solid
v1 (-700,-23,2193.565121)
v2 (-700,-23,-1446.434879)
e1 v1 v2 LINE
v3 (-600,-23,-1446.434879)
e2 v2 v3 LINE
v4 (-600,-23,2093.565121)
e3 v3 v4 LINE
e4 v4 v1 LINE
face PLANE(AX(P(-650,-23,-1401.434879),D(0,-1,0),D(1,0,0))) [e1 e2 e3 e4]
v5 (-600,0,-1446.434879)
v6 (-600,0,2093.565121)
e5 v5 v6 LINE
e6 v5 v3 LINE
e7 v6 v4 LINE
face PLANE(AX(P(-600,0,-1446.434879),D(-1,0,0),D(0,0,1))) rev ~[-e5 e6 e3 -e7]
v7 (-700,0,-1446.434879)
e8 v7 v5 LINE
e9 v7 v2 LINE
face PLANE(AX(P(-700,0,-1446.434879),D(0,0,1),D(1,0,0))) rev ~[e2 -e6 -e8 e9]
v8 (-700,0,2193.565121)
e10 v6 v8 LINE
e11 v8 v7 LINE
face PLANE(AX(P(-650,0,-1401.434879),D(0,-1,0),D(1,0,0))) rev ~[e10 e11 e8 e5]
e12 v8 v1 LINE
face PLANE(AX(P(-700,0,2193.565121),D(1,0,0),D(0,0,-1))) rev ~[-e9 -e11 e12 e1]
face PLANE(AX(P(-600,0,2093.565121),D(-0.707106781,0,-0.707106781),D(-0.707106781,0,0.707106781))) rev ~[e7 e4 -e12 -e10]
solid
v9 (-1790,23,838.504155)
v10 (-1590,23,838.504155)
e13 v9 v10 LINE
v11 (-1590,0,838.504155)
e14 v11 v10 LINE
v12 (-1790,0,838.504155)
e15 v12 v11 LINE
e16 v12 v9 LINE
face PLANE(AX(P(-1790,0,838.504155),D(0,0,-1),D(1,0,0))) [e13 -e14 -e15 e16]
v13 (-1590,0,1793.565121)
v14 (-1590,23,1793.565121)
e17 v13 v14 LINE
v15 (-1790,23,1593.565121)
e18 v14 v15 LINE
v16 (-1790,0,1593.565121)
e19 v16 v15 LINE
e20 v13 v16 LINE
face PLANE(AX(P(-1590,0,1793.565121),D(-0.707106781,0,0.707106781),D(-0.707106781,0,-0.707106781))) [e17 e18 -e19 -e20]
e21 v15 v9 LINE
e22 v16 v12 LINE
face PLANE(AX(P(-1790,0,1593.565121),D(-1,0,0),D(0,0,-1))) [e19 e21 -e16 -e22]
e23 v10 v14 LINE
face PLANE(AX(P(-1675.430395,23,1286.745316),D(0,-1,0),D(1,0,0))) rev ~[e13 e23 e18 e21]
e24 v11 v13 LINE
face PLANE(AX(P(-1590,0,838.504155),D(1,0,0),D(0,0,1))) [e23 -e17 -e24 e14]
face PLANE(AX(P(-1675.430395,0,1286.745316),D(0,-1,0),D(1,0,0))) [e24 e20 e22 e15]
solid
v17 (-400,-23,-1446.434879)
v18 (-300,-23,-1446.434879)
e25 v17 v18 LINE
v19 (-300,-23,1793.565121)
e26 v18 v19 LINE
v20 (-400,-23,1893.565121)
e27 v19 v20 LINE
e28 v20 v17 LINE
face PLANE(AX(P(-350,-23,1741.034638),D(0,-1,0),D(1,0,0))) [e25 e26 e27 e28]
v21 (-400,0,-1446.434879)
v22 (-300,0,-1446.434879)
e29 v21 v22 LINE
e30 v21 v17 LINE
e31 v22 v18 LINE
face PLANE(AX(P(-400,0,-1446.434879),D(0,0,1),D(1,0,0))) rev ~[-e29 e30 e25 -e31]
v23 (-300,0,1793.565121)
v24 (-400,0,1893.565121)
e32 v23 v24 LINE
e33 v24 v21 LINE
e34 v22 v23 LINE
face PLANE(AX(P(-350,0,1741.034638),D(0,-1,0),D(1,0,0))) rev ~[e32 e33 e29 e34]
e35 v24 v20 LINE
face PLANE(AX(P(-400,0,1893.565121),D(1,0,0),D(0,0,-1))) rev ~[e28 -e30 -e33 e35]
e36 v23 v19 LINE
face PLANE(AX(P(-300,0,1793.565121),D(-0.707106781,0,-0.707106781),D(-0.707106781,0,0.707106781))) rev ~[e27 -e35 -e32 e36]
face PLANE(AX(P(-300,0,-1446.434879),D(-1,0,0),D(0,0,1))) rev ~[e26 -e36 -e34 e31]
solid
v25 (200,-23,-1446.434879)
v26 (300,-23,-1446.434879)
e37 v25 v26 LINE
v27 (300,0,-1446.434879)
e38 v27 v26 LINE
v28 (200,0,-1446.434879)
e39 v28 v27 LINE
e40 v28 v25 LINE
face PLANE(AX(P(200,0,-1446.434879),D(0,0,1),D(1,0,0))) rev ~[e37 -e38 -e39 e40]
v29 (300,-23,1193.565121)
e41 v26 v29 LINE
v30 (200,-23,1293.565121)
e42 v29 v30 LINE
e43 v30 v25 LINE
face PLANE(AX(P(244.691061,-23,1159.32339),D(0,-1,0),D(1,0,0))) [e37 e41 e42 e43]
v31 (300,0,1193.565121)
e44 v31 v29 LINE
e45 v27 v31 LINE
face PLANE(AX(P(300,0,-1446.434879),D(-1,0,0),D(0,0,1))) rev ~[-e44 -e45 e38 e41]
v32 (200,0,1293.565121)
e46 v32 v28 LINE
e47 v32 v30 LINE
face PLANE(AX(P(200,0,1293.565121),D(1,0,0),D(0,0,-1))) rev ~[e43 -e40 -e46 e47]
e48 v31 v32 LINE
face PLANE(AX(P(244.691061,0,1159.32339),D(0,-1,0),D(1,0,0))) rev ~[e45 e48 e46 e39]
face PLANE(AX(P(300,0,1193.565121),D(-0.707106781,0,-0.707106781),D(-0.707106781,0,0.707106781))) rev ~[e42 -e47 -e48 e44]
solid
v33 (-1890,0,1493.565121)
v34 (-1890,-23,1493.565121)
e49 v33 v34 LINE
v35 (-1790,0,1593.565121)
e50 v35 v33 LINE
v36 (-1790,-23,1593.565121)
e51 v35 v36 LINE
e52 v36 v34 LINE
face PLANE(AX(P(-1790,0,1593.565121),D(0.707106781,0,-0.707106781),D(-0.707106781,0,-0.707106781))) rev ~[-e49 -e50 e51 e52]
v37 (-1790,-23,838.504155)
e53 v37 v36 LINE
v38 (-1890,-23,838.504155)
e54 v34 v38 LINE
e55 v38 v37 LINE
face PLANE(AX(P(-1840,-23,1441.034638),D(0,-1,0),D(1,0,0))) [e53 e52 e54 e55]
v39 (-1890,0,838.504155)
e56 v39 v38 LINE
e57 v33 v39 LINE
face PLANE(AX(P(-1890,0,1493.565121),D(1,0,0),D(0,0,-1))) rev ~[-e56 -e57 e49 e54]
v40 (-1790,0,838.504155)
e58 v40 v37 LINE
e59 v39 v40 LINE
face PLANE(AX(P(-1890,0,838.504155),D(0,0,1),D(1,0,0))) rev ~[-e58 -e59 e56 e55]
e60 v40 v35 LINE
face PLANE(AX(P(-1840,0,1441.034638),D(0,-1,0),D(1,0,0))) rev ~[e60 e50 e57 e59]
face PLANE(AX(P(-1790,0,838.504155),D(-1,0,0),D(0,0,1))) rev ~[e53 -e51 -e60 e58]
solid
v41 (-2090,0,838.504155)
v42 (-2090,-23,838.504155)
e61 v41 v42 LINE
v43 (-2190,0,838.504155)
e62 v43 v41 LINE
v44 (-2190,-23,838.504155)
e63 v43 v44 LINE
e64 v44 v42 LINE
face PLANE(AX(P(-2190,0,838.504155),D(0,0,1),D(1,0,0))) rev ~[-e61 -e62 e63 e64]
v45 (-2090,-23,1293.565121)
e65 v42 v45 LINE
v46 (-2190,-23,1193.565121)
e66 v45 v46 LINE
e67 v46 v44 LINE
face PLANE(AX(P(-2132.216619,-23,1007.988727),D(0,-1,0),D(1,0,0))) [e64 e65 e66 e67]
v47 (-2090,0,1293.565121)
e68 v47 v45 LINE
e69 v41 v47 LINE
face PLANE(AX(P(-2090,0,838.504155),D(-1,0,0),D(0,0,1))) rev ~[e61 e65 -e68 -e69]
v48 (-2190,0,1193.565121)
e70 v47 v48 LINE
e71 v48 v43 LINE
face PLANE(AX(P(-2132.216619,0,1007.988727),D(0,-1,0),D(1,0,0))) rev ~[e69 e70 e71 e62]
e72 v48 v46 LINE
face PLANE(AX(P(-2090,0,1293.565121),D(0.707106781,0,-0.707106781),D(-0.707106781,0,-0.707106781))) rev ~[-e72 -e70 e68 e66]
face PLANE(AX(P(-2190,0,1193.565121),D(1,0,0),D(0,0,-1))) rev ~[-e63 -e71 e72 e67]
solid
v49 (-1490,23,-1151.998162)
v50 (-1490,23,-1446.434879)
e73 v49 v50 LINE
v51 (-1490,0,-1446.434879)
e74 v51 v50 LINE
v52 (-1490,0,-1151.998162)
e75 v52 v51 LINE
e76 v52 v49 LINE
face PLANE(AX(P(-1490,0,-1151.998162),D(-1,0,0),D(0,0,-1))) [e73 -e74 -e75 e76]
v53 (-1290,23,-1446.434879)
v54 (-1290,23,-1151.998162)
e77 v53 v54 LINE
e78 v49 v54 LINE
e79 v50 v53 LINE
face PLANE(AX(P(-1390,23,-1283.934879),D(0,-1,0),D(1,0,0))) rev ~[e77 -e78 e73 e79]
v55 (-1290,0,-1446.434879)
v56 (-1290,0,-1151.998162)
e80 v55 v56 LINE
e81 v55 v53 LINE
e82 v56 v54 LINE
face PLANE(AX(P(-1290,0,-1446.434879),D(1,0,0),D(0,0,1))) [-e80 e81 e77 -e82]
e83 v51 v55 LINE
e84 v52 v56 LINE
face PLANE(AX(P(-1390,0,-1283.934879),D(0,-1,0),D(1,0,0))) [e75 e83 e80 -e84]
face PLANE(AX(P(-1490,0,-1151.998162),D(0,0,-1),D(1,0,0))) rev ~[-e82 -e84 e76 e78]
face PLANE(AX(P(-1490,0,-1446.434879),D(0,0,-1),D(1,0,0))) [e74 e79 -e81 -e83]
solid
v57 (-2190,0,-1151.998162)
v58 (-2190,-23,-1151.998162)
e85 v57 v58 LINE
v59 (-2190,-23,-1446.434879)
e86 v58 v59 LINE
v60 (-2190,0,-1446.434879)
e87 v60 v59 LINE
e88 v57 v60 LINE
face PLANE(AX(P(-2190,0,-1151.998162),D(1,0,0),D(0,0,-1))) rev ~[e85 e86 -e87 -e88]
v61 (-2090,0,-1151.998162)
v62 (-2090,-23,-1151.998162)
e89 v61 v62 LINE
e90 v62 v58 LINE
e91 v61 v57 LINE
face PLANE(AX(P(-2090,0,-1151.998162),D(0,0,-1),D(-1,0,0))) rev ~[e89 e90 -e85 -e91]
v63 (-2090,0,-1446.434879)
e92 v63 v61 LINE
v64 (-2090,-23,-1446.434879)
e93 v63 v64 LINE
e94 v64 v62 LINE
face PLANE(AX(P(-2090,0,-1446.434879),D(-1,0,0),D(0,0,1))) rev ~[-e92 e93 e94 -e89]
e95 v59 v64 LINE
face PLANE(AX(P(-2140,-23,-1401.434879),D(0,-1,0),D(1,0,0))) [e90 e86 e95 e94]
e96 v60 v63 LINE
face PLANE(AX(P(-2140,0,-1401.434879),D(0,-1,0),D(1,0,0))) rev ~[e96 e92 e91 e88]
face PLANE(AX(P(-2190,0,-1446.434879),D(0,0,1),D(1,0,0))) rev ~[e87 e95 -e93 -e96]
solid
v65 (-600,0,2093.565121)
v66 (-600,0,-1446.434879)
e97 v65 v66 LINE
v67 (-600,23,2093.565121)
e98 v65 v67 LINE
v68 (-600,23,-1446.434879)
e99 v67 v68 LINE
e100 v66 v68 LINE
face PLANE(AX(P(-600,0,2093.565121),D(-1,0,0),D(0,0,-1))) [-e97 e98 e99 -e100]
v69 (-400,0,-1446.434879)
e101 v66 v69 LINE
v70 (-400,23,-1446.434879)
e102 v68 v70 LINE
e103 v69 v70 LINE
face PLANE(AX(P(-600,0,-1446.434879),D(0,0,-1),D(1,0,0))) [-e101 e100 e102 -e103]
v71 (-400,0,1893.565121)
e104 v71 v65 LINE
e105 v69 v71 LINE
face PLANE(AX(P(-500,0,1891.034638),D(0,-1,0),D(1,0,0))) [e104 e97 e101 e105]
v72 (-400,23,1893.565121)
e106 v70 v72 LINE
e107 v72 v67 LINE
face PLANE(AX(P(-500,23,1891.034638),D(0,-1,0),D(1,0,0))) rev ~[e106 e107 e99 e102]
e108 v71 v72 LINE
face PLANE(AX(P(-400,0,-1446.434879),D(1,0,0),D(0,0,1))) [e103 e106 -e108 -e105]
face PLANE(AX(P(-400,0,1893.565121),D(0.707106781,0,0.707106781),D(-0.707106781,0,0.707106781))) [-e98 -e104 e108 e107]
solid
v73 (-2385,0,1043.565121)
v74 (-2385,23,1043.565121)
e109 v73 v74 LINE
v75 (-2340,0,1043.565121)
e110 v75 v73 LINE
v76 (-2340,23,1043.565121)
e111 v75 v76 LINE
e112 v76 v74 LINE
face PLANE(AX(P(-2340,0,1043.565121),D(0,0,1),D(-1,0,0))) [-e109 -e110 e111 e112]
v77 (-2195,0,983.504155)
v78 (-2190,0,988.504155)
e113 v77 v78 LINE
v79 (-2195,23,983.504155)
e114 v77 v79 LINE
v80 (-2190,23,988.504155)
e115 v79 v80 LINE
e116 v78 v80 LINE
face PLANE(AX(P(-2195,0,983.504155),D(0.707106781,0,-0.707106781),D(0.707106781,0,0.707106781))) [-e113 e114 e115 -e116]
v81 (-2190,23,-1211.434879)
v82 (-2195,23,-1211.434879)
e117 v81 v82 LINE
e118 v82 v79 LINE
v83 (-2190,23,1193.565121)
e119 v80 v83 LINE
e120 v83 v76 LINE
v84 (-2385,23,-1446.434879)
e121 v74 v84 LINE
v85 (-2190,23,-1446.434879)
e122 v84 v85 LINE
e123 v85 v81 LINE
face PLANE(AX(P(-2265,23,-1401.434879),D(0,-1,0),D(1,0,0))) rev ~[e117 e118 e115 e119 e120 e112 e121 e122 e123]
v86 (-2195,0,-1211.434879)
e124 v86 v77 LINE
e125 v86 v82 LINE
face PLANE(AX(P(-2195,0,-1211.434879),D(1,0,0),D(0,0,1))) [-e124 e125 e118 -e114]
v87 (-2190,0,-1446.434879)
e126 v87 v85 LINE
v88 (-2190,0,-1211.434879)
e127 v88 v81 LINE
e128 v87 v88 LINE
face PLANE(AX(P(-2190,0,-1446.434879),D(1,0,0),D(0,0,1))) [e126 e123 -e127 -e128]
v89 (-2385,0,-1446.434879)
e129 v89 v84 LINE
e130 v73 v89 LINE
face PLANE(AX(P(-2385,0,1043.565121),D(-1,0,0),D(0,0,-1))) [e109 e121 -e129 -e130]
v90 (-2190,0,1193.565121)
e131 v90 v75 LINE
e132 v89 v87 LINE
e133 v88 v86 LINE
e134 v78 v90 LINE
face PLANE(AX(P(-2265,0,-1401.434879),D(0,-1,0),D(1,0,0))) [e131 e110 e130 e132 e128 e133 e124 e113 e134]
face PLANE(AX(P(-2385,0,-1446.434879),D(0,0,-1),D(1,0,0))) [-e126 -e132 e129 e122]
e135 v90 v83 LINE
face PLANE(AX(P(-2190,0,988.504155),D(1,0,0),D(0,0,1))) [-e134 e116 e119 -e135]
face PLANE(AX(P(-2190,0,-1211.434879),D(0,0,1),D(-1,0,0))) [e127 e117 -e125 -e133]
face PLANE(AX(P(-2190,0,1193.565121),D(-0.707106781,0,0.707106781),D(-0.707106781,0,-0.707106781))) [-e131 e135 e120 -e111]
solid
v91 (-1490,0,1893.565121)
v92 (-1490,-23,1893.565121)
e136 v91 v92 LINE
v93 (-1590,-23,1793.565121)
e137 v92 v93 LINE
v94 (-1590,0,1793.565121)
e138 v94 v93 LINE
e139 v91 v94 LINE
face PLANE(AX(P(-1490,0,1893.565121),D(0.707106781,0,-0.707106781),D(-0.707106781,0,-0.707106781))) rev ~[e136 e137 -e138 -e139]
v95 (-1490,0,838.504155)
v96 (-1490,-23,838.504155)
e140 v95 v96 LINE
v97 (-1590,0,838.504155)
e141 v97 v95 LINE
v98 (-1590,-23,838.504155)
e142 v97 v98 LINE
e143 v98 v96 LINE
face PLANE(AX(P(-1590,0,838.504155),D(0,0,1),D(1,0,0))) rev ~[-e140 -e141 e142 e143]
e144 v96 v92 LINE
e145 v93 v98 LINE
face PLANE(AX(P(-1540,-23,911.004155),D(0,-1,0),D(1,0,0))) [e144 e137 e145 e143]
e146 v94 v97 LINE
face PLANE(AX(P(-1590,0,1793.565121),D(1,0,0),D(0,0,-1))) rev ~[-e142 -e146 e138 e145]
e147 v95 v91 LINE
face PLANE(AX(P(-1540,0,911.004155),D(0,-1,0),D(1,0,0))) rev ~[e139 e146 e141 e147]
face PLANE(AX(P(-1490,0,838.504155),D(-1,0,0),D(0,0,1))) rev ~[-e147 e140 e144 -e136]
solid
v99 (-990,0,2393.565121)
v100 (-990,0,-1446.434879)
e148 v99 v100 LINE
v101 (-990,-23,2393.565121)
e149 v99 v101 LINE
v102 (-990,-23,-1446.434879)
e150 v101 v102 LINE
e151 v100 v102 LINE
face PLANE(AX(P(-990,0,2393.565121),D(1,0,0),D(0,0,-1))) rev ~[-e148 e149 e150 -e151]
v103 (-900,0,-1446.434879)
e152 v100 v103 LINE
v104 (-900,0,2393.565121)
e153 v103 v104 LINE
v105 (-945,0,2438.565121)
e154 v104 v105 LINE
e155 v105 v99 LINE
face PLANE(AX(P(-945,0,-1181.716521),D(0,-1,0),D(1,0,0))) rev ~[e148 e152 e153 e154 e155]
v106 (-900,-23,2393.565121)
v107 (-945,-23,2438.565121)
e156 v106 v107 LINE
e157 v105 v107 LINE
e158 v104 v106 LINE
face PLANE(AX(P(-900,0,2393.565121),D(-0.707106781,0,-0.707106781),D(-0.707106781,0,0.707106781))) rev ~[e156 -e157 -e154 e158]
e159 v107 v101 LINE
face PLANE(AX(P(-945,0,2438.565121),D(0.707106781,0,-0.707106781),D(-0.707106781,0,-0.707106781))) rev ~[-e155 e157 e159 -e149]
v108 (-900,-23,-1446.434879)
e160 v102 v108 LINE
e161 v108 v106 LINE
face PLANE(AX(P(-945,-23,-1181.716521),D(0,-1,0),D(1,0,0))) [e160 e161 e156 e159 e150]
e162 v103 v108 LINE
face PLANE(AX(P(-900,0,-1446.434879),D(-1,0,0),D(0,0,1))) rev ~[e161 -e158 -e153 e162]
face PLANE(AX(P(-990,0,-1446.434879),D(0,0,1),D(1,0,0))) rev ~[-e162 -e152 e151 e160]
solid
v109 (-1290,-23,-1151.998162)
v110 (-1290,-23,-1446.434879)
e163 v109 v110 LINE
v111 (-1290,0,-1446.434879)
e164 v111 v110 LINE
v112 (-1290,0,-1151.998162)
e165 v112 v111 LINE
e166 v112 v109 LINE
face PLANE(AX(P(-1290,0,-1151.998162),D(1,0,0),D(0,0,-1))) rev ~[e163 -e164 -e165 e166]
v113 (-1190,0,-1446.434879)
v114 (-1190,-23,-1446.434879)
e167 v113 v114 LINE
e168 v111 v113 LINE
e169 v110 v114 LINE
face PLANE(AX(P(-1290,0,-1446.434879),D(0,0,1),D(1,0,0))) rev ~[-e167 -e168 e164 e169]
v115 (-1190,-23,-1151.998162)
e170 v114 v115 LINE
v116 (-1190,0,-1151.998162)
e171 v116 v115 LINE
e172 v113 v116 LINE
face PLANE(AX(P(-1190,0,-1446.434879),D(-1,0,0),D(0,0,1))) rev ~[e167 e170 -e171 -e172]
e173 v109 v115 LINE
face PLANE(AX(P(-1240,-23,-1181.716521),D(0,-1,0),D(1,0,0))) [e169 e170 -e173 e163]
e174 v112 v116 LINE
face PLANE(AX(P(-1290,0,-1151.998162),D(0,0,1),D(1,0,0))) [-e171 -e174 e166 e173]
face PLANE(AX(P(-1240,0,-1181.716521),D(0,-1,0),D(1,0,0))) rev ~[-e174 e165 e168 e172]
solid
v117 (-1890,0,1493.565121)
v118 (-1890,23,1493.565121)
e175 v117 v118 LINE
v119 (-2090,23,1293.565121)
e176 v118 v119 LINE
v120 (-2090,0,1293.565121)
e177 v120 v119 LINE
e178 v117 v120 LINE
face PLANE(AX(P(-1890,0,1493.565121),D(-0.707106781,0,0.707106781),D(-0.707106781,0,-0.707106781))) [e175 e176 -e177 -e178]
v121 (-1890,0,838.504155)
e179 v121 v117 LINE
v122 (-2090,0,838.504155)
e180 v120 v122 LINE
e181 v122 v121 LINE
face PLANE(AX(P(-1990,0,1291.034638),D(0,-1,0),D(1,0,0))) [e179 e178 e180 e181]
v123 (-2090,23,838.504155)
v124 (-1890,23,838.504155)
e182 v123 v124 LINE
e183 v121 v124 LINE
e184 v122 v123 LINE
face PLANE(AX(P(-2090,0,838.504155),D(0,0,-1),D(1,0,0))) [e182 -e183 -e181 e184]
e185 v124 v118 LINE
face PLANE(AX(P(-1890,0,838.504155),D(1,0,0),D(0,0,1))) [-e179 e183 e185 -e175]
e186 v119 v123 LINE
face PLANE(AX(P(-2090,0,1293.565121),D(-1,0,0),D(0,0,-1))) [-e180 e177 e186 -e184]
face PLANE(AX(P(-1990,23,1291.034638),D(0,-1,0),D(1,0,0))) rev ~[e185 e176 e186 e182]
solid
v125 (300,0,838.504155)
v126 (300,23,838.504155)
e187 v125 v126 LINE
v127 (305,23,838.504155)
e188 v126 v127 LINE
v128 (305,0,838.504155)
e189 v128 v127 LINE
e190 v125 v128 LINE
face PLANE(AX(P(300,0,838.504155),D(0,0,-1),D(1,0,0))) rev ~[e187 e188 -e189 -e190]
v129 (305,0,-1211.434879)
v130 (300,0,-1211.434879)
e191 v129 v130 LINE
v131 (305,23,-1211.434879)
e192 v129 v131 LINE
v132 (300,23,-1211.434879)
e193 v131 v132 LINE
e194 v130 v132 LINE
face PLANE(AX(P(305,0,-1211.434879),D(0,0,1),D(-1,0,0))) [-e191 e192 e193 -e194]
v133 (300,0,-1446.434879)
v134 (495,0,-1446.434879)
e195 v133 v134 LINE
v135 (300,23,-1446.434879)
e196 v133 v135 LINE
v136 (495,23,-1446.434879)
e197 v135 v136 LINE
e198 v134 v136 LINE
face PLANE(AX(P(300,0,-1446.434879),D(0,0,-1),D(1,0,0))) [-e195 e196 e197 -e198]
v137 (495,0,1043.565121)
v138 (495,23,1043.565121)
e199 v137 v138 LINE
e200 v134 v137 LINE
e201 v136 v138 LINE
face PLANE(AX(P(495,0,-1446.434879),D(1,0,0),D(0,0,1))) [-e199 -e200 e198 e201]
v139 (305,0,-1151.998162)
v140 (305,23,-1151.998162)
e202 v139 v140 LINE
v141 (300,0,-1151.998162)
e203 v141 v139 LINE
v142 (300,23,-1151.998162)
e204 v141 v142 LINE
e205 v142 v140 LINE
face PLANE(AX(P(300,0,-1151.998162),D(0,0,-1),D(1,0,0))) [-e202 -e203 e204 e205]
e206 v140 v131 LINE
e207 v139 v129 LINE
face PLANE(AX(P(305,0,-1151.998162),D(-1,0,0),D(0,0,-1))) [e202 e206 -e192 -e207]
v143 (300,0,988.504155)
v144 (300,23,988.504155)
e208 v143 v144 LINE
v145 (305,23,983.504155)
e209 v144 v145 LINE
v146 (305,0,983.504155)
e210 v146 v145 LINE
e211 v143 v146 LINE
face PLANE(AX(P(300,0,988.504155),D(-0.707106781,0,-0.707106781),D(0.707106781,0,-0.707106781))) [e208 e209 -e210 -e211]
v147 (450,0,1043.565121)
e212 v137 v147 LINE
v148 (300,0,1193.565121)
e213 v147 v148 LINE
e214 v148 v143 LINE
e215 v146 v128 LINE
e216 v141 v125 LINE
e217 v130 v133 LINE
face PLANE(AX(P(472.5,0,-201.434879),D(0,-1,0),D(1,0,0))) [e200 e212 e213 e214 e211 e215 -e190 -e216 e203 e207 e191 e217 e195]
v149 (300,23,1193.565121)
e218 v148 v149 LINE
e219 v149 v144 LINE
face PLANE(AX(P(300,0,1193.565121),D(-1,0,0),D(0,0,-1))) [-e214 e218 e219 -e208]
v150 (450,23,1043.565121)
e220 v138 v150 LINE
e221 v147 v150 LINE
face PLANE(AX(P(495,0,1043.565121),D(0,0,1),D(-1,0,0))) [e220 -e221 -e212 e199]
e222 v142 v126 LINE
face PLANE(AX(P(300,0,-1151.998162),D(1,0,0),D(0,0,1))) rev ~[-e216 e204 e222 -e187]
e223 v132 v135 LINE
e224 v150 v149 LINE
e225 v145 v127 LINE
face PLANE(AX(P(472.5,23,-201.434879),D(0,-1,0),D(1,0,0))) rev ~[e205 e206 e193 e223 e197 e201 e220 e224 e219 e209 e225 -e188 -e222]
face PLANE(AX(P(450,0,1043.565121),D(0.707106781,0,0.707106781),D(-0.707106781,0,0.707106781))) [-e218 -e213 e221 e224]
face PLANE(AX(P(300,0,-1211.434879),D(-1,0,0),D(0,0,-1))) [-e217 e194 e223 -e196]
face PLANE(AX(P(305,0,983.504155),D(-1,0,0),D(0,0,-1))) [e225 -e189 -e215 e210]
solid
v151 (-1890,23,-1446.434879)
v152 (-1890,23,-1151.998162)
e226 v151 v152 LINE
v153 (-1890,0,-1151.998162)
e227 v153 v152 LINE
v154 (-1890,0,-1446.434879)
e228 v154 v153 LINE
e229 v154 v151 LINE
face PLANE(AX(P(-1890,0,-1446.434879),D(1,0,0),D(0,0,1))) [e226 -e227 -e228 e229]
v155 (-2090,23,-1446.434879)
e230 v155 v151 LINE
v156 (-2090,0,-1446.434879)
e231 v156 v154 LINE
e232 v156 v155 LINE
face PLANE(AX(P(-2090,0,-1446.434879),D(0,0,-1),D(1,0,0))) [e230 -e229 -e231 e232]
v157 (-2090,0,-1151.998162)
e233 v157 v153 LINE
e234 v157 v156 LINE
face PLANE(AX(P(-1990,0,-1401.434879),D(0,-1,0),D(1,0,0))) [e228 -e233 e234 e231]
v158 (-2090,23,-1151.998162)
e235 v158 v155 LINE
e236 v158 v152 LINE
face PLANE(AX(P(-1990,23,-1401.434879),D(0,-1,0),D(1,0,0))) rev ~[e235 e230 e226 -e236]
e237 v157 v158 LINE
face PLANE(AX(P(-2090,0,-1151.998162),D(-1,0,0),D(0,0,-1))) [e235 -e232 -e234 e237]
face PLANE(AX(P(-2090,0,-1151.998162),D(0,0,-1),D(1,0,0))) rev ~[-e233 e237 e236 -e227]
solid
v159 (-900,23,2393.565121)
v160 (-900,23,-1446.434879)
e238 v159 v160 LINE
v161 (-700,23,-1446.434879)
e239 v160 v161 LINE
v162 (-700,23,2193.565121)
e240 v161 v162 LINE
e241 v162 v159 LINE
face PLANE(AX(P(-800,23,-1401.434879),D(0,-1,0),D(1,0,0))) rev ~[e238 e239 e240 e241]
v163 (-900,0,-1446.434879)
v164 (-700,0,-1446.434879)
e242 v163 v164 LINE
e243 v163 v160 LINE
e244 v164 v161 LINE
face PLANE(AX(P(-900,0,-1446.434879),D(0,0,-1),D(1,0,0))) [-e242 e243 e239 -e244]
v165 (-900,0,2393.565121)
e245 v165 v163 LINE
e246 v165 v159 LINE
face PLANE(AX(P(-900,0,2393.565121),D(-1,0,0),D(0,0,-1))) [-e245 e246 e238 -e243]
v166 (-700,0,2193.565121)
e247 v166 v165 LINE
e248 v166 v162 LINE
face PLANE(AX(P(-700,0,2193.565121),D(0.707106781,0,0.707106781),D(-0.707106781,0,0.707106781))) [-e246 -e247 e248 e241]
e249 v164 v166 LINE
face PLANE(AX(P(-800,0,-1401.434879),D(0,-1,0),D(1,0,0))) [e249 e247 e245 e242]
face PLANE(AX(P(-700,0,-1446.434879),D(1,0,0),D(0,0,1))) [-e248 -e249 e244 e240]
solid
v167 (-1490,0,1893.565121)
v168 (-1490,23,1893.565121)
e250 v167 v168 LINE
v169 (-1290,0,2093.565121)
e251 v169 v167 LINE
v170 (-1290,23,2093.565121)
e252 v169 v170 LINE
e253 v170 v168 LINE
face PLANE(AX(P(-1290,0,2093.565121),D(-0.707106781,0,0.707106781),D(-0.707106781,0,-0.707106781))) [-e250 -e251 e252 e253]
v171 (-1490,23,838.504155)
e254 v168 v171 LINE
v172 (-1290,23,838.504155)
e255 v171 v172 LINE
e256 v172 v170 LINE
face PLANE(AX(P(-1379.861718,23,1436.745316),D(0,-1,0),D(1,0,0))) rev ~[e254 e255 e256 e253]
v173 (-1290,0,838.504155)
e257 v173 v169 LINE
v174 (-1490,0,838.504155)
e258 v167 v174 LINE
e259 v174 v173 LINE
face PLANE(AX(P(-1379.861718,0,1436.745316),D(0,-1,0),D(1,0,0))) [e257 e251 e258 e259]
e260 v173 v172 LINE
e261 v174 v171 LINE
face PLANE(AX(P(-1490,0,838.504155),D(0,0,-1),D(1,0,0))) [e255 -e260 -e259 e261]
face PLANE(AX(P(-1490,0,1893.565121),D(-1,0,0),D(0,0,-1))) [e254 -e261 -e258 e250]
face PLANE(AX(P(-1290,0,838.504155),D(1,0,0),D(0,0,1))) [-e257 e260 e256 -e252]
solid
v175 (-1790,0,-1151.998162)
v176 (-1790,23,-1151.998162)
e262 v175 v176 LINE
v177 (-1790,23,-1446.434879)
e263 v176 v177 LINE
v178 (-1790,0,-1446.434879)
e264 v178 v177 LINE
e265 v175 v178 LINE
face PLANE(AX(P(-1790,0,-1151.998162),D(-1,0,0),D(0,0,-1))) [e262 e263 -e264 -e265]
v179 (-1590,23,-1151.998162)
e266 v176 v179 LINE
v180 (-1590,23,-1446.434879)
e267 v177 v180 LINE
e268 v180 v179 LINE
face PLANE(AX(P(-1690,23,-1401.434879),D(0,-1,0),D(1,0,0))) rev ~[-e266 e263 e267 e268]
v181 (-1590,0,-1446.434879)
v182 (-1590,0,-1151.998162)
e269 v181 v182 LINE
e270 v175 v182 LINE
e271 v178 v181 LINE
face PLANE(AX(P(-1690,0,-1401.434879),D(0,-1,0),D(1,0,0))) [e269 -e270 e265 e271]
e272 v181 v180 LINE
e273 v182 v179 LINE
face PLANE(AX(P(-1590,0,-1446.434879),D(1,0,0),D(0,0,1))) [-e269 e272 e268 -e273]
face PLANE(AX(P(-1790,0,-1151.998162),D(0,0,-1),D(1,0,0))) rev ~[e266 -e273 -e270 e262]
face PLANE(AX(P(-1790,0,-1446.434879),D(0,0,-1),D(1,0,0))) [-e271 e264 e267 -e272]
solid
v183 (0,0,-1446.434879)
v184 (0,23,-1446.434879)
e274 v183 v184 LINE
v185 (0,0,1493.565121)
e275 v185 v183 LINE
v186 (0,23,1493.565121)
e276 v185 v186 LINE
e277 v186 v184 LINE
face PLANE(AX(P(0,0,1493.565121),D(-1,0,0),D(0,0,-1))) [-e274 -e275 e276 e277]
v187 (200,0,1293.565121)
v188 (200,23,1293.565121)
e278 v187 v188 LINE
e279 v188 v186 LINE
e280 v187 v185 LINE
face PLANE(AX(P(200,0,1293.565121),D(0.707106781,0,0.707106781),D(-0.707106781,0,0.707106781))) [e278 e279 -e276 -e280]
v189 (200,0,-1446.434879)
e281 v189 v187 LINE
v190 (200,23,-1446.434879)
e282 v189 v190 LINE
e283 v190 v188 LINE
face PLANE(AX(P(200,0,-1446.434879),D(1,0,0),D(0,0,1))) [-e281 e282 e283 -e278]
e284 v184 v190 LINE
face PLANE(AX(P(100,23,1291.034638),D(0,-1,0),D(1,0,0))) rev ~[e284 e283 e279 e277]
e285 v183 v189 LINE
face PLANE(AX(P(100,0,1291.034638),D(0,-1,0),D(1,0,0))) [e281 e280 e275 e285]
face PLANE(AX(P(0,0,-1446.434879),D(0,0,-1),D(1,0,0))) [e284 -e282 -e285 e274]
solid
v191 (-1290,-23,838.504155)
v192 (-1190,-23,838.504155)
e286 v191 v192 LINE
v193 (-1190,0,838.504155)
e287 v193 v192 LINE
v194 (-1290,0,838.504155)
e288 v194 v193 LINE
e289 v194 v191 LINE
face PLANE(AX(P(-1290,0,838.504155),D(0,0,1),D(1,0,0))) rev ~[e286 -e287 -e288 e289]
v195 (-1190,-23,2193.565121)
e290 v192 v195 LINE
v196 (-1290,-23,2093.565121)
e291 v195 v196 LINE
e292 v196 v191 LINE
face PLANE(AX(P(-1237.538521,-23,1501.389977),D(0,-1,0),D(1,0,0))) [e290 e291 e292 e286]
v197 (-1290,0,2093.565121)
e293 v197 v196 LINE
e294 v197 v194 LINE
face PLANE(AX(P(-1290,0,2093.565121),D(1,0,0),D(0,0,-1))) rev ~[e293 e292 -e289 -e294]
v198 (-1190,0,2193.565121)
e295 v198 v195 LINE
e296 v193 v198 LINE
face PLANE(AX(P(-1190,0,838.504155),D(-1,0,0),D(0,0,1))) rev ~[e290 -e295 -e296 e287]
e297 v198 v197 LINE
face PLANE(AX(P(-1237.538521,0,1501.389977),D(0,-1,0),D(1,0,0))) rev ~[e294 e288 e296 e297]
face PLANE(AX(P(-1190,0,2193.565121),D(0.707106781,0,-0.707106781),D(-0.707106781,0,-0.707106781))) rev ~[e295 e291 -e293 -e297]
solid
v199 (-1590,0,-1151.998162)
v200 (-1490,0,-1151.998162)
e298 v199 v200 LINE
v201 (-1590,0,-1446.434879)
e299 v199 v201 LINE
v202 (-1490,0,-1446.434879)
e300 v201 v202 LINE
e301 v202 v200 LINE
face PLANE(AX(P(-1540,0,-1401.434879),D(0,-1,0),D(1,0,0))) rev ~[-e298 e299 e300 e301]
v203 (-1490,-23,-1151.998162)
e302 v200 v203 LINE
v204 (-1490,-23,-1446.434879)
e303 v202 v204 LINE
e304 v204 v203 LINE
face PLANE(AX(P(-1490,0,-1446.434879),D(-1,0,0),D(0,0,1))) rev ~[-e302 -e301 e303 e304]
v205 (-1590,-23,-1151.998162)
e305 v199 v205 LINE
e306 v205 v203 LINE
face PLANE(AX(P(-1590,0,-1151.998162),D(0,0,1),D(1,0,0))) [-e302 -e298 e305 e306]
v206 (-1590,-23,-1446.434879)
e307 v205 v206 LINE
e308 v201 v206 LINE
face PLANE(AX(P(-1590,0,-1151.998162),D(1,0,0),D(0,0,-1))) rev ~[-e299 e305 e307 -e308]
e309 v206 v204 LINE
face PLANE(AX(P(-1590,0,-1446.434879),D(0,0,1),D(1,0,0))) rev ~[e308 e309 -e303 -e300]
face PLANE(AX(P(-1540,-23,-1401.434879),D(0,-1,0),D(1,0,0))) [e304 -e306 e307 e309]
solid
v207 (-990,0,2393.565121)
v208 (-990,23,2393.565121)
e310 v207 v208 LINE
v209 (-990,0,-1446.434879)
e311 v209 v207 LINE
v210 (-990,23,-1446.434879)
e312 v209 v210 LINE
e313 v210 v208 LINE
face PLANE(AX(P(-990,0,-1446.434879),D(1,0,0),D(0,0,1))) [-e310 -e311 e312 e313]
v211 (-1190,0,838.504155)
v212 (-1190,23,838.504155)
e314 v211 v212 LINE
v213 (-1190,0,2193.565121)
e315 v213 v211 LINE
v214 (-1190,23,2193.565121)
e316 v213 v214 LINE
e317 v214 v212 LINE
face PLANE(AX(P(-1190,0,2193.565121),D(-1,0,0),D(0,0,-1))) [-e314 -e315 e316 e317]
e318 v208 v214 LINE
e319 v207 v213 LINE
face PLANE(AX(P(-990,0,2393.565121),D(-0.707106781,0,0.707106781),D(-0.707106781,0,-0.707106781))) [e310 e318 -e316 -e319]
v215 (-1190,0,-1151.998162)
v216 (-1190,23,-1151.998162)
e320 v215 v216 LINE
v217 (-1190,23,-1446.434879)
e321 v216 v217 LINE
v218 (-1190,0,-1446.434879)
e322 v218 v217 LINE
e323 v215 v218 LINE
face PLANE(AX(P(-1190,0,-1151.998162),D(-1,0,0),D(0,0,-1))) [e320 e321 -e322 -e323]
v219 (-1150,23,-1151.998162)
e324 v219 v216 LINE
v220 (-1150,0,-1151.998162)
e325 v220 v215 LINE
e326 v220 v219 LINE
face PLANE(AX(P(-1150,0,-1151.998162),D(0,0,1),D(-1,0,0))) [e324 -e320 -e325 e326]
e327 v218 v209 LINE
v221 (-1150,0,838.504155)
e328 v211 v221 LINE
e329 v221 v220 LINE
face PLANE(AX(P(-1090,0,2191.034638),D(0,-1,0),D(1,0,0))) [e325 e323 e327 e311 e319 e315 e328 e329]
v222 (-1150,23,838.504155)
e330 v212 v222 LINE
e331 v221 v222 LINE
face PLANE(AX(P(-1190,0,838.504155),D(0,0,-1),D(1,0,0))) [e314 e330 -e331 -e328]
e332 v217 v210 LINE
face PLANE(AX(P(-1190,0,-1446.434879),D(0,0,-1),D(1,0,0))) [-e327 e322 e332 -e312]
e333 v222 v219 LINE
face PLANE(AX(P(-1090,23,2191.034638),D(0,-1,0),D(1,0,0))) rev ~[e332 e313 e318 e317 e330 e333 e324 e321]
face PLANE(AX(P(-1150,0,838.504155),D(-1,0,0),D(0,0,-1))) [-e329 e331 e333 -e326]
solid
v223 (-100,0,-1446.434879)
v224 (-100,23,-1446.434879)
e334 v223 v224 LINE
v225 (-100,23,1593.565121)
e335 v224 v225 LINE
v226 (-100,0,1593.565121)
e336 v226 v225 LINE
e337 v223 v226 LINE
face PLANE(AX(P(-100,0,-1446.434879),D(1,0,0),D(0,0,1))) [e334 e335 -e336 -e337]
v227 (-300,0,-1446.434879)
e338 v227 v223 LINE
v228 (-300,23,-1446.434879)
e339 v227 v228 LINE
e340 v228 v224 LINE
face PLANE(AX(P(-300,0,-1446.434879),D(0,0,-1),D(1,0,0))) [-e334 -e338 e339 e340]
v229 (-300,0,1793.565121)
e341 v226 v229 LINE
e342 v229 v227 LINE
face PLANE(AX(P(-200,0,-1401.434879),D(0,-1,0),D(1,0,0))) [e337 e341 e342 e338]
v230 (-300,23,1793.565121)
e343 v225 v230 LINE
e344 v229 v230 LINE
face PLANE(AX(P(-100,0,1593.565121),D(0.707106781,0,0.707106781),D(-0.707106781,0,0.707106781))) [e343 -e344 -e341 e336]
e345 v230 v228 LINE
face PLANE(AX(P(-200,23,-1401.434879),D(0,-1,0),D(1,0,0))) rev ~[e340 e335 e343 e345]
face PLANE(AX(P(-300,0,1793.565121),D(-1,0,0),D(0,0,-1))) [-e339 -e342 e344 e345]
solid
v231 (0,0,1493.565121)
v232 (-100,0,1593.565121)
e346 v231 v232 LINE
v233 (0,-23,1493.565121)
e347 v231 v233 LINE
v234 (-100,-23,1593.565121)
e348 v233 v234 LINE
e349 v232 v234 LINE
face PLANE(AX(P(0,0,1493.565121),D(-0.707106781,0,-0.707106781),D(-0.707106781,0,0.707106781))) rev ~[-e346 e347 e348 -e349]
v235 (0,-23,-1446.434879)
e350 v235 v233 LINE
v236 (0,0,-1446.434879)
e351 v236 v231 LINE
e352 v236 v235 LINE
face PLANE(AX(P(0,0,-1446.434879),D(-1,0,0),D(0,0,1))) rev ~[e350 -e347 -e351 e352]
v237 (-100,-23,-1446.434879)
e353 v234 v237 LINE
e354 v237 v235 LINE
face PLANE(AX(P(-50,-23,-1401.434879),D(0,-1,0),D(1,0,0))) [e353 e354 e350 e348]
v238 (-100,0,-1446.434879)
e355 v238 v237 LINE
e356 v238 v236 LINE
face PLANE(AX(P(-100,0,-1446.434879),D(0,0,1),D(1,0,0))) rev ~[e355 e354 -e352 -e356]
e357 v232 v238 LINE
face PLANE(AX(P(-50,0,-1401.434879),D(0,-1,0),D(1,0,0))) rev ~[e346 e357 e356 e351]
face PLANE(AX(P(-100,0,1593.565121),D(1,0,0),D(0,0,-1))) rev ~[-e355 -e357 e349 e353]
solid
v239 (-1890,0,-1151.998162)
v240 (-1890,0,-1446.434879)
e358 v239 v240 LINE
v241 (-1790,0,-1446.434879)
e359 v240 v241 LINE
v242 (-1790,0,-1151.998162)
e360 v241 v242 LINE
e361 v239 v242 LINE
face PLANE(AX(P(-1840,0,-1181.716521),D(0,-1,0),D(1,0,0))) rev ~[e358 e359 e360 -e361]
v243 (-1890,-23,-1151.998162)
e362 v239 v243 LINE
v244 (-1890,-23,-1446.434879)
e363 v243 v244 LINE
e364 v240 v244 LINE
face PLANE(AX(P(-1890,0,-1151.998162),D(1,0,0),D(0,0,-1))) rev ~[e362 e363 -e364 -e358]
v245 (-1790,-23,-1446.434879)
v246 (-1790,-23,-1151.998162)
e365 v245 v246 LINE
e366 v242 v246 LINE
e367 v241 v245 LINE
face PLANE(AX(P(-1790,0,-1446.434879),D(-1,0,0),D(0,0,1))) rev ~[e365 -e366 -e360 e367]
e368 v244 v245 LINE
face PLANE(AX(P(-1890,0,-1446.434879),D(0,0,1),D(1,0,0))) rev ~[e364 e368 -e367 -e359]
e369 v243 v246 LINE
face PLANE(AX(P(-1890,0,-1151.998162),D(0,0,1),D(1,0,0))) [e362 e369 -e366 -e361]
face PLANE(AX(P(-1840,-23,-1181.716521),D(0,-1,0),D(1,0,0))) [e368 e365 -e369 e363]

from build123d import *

# Parameters (mm, degrees)
F0_W     = 5
F0_H     = 1990.5023168359
F0_W_2   = 150
F0_H_2   = 90
F1_DEPTH = 23
F0_W_3   = 200
F0_H_3   = 60.0609665441
F0_H_4   = 145
F0_H_5   = 59.43671662
F0_W_4   = 60
F0_W_5   = 40
F0_W_6   = 100
F2_DEPTH = 23
F0_W_7   = 90


with BuildPart() as f1:
    # F0 (on Front) → F1 (new body)
    with BuildSketch(Plane.XZ):
        Polygon((450, 1043.5651211104), (450, -1356.4348788896), (450, -1446.4348788896), (495, -1446.4348788896), (495, 1043.5651211104), align=None)
        Polygon((300, -1211.4348788896), (300, -1356.4348788896), (450, -1356.4348788896), (450, 1043.5651211104), (300, 1043.5651211104), (300, 988.5041545663), (305, 983.5041545663), (305, 838.5041545663), (305, -1151.9981622696), (305, -1211.4348788896), align=None)
        with Locations((302.5, -156.7470038516)):
            Rectangle(F0_W, F0_H)
        Polygon((450, 1043.5651211104), (300, 1193.5651211104), (300, 1043.5651211104), align=None)
        with Locations((375, -1401.4348788896)):
            Rectangle(F0_W_2, F0_H_2)
    extrude(amount=-F1_DEPTH)


with BuildPart() as f1b:
    # F0 (on Front) → F1, piece 2 (new body)
    with BuildSketch(Plane.XZ):
        Polygon((200, 1293.5651211104), (0, 1493.5651211104), (0, 1288.5041545663), (200, 1088.5041545663), align=None)
        Polygon((0, 1288.5041545663), (0, 1043.5651211104), (200, 1043.5651211104), (200, 1088.5041545663), align=None)
        with Locations((100, 1013.5346378384)):
            Rectangle(F0_W_3, F0_H_3)
        with Locations((100, 911.0041545663)):
            Rectangle(F0_W_3, F0_H_4)
        with Locations((100, -156.7470038516)):
            Rectangle(F0_W_3, F0_H)
        with Locations((100, -1181.7165205796)):
            Rectangle(F0_W_3, F0_H_5)
        with Locations((100, -1283.9348788896)):
            Rectangle(F0_W_3, F0_H_4)
        with Locations((100, -1401.4348788896)):
            Rectangle(F0_W_3, F0_H_2)
    extrude(amount=-F1_DEPTH)


with BuildPart() as f1c:
    # F0 (on Front) → F1, piece 3 (new body)
    with BuildSketch(Plane.XZ):
        with Locations((-200, -1401.4348788896)):
            Rectangle(F0_W_3, F0_H_2)
        with Locations((-200, -1283.9348788896)):
            Rectangle(F0_W_3, F0_H_4)
        with Locations((-200, -1181.7165205796)):
            Rectangle(F0_W_3, F0_H_5)
        with Locations((-200, -156.7470038516)):
            Rectangle(F0_W_3, F0_H)
        with Locations((-200, 911.0041545663)):
            Rectangle(F0_W_3, F0_H_4)
        with Locations((-200, 1013.5346378384)):
            Rectangle(F0_W_3, F0_H_3)
        Polygon((-300, 1588.5041545663), (-300, 1043.5651211104), (-100, 1043.5651211104), (-100, 1388.5041545663), align=None)
        Polygon((-100, 1593.5651211104), (-300, 1793.5651211104), (-300, 1588.5041545663), (-100, 1388.5041545663), align=None)
    extrude(amount=-F1_DEPTH)


with BuildPart() as f1d:
    # F0 (on Front) → F1, piece 4 (new body)
    with BuildSketch(Plane.XZ):
        Polygon((-400, 1893.5651211104), (-600, 2093.5651211104), (-600, 1888.5041545663), (-400, 1688.5041545663), align=None)
        Polygon((-600, 1888.5041545663), (-600, 1043.5651211104), (-400, 1043.5651211104), (-400, 1688.5041545663), align=None)
        with Locations((-500, 1013.5346378384)):
            Rectangle(F0_W_3, F0_H_3)
        with Locations((-500, 911.0041545663)):
            Rectangle(F0_W_3, F0_H_4)
        with Locations((-500, -156.7470038516)):
            Rectangle(F0_W_3, F0_H)
        with Locations((-500, -1181.7165205796)):
            Rectangle(F0_W_3, F0_H_5)
        with Locations((-500, -1283.9348788896)):
            Rectangle(F0_W_3, F0_H_4)
        with Locations((-500, -1401.4348788896)):
            Rectangle(F0_W_3, F0_H_2)
    extrude(amount=-F1_DEPTH)


with BuildPart() as f1e:
    # F0 (on Front) → F1, piece 5 (new body)
    with BuildSketch(Plane.XZ):
        with Locations((-800, -1401.4348788896)):
            Rectangle(F0_W_3, F0_H_2)
        with Locations((-800, -1283.9348788896)):
            Rectangle(F0_W_3, F0_H_4)
        with Locations((-800, -1181.7165205796)):
            Rectangle(F0_W_3, F0_H_5)
        with Locations((-800, -156.7470038516)):
            Rectangle(F0_W_3, F0_H)
        with Locations((-800, 911.0041545663)):
            Rectangle(F0_W_3, F0_H_4)
        with Locations((-800, 1013.5346378384)):
            Rectangle(F0_W_3, F0_H_3)
        Polygon((-900, 2188.5041545663), (-900, 1043.5651211104), (-700, 1043.5651211104), (-700, 1988.5041545663), align=None)
        Polygon((-700, 2193.5651211104), (-900, 2393.5651211104), (-900, 2188.5041545663), (-700, 1988.5041545663), align=None)
    extrude(amount=-F1_DEPTH)


with BuildPart() as f1f:
    # F0 (on Front) → F1, piece 6 (new body)
    with BuildSketch(Plane.XZ):
        Polygon((-990, 2393.5651211104), (-1190, 2193.5651211104), (-1190, 1988.5041545663), (-990, 2188.5041545663), align=None)
        Polygon((-1190, 1988.5041545663), (-1190, 1043.5651211104), (-990, 1043.5651211104), (-990, 2188.5041545663), align=None)
        with Locations((-1090, 1013.5346378384)):
            Rectangle(F0_W_3, F0_H_3)
        Polygon((-990, 983.5041545663), (-1190, 983.5041545663), (-1190, 838.5041545663), (-1150, 838.5041545663), (-990, 838.5041545663), align=None)
        Polygon((-990, -1151.9981622696), (-990, 838.5041545663), (-1150, 838.5041545663), (-1150, 793.5041545663), (-1150, -1106.9981622696), (-1150, -1151.9981622696), align=None)
        with Locations((-1090, -1283.9348788896)):
            Rectangle(F0_W_3, F0_H_4)
        Polygon((-1190, -1151.9981622696), (-1190, -1211.4348788896), (-990, -1211.4348788896), (-990, -1151.9981622696), (-1150, -1151.9981622696), align=None)
        with Locations((-1090, -1401.4348788896)):
            Rectangle(F0_W_3, F0_H_2)
    extrude(amount=-F1_DEPTH)


with BuildPart() as f1g:
    # F0 (on Front) → F1, piece 7 (new body)
    with BuildSketch(Plane.XZ):
        with Locations((-1390, -1283.9348788896)):
            Rectangle(F0_W_3, F0_H_4)
        with Locations((-1390, -1181.7165205796)):
            Rectangle(F0_W_3, F0_H_5)
        with Locations((-1390, -1401.4348788896)):
            Rectangle(F0_W_3, F0_H_2)
    extrude(amount=-F1_DEPTH)


with BuildPart() as f1h:
    # F0 (on Front) → F1, piece 8 (new body)
    with BuildSketch(Plane.XZ):
        with Locations((-1690, -1401.4348788896)):
            Rectangle(F0_W_3, F0_H_2)
        with Locations((-1690, -1283.9348788896)):
            Rectangle(F0_W_3, F0_H_4)
        with Locations((-1690, -1181.7165205796)):
            Rectangle(F0_W_3, F0_H_5)
    extrude(amount=-F1_DEPTH)


with BuildPart() as f1i:
    # F0 (on Front) → F1, piece 9 (new body)
    with BuildSketch(Plane.XZ):
        with Locations((-1990, -1401.4348788896)):
            Rectangle(F0_W_3, F0_H_2)
        with Locations((-1990, -1283.9348788896)):
            Rectangle(F0_W_3, F0_H_4)
        with Locations((-1990, -1181.7165205796)):
            Rectangle(F0_W_3, F0_H_5)
    extrude(amount=-F1_DEPTH)


with BuildPart() as f1j:
    # F0 (on Front) → F1, piece 10 (new body)
    with BuildSketch(Plane.XZ):
        with Locations((-2265, -1401.4348788896)):
            Rectangle(F0_W_2, F0_H_2)
        Polygon((-2340, -1356.4348788896), (-2340, 1043.5651211104), (-2385, 1043.5651211104), (-2385, -1446.4348788896), (-2340, -1446.4348788896), align=None)
        Polygon((-2190, 1043.5651211104), (-2340, 1043.5651211104), (-2340, -1356.4348788896), (-2190, -1356.4348788896), (-2190, -1211.4348788896), (-2195, -1211.4348788896), (-2195, -1151.9981622696), (-2195, 838.5041545663), (-2195, 983.5041545663), (-2190, 988.5041545663), align=None)
        Polygon((-2190, 1193.5651211104), (-2340, 1043.5651211104), (-2190, 1043.5651211104), align=None)
    extrude(amount=-F1_DEPTH)


with BuildPart() as f1k:
    # F0 (on Front) → F1, piece 11 (new body)
    with BuildSketch(Plane.XZ):
        Polygon((-1890, 1493.5651211104), (-2090, 1293.5651211104), (-2090, 1088.5041545663), (-1890, 1288.5041545663), align=None)
        Polygon((-2090, 1088.5041545663), (-2090, 1043.5651211104), (-1890, 1043.5651211104), (-1890, 1288.5041545663), align=None)
        with Locations((-1990, 1013.5346378384)):
            Rectangle(F0_W_3, F0_H_3)
        with Locations((-1990, 911.0041545663)):
            Rectangle(F0_W_3, F0_H_4)
    extrude(amount=-F1_DEPTH)


with BuildPart() as f1l:
    # F0 (on Front) → F1, piece 12 (new body)
    with BuildSketch(Plane.XZ):
        Polygon((-1790, 1388.5041545663), (-1790, 1043.5651211104), (-1590, 1043.5651211104), (-1590, 1588.5041545663), align=None)
        Polygon((-1590, 1793.5651211104), (-1790, 1593.5651211104), (-1790, 1388.5041545663), (-1590, 1588.5041545663), align=None)
        with Locations((-1690, 1013.5346378384)):
            Rectangle(F0_W_3, F0_H_3)
        with Locations((-1690, 911.0041545663)):
            Rectangle(F0_W_3, F0_H_4)
    extrude(amount=-F1_DEPTH)


with BuildPart() as f1m:
    # F0 (on Front) → F1, piece 13 (new body)
    with BuildSketch(Plane.XZ):
        Polygon((-1490, 1688.5041545663), (-1490, 1043.5651211104), (-1290, 1043.5651211104), (-1290, 1888.5041545663), align=None)
        Polygon((-1290, 2093.5651211104), (-1490, 1893.5651211104), (-1490, 1688.5041545663), (-1290, 1888.5041545663), align=None)
        with Locations((-1390, 1013.5346378384)):
            Rectangle(F0_W_3, F0_H_3)
        with Locations((-1390, 911.0041545663)):
            Rectangle(F0_W_3, F0_H_4)
    extrude(amount=-F1_DEPTH)


with BuildPart() as f2:
    # F0 (on Front) → F2 (new body)
    with BuildSketch(Plane.XZ):
        Polygon((300, 1193.5651211104), (200, 1293.5651211104), (200, 1088.5041545663), (244.9390334559, 1043.5651211104), (300, 1043.5651211104), align=None)
        Polygon((244.9390334559, 1043.5651211104), (200, 1043.5651211104), (200, 983.5041545663), (300, 983.5041545663), (300, 988.5041545663), align=None)
        Polygon((200, 1088.5041545663), (200, 1043.5651211104), (244.9390334559, 1043.5651211104), align=None)
        Polygon((300, 1043.5651211104), (244.9390334559, 1043.5651211104), (300, 988.5041545663), align=None)
        Polygon((300, 983.5041545663), (200, 983.5041545663), (200, 838.5041545663), (260, 838.5041545663), (300, 838.5041545663), align=None)
        with Locations((230, -156.7470038516)):
            Rectangle(F0_W_4, F0_H)
        with Locations((280, -156.7470038516)):
            Rectangle(F0_W_5, F0_H)
        Polygon((200, -1151.9981622696), (200, -1211.4348788896), (300, -1211.4348788896), (300, -1151.9981622696), (260, -1151.9981622696), align=None)
        with Locations((250, -1283.9348788896)):
            Rectangle(F0_W_6, F0_H_4)
        with Locations((250, -1401.4348788896)):
            Rectangle(F0_W_6, F0_H_2)
    extrude(amount=F2_DEPTH)


with BuildPart() as f2b:
    # F0 (on Front) → F2, piece 2 (new body)
    with BuildSketch(Plane.XZ):
        with Locations((-50, -1401.4348788896)):
            Rectangle(F0_W_6, F0_H_2)
        with Locations((-50, -1283.9348788896)):
            Rectangle(F0_W_6, F0_H_4)
        with Locations((-50, -1181.7165205796)):
            Rectangle(F0_W_6, F0_H_5)
        with Locations((-50, -156.7470038516)):
            Rectangle(F0_W_6, F0_H)
        with Locations((-50, 911.0041545663)):
            Rectangle(F0_W_6, F0_H_4)
        with Locations((-50, 1013.5346378384)):
            Rectangle(F0_W_6, F0_H_3)
        Polygon((-100, 1388.5041545663), (-100, 1043.5651211104), (0, 1043.5651211104), (0, 1288.5041545663), align=None)
        Polygon((0, 1493.5651211104), (-100, 1593.5651211104), (-100, 1388.5041545663), (0, 1288.5041545663), align=None)
    extrude(amount=F2_DEPTH)


with BuildPart() as f2c:
    # F0 (on Front) → F2, piece 3 (new body)
    with BuildSketch(Plane.XZ):
        Polygon((-300, 1793.5651211104), (-400, 1893.5651211104), (-400, 1688.5041545663), (-300, 1588.5041545663), align=None)
        Polygon((-400, 1688.5041545663), (-400, 1043.5651211104), (-300, 1043.5651211104), (-300, 1588.5041545663), align=None)
        with Locations((-350, 1013.5346378384)):
            Rectangle(F0_W_6, F0_H_3)
        with Locations((-350, 911.0041545663)):
            Rectangle(F0_W_6, F0_H_4)
        with Locations((-350, -156.7470038516)):
            Rectangle(F0_W_6, F0_H)
        with Locations((-350, -1181.7165205796)):
            Rectangle(F0_W_6, F0_H_5)
        with Locations((-350, -1283.9348788896)):
            Rectangle(F0_W_6, F0_H_4)
        with Locations((-350, -1401.4348788896)):
            Rectangle(F0_W_6, F0_H_2)
    extrude(amount=F2_DEPTH)


with BuildPart() as f2d:
    # F0 (on Front) → F2, piece 4 (new body)
    with BuildSketch(Plane.XZ):
        with Locations((-650, -1401.4348788896)):
            Rectangle(F0_W_6, F0_H_2)
        with Locations((-650, -1283.9348788896)):
            Rectangle(F0_W_6, F0_H_4)
        with Locations((-650, -1181.7165205796)):
            Rectangle(F0_W_6, F0_H_5)
        with Locations((-650, -156.7470038516)):
            Rectangle(F0_W_6, F0_H)
        Polygon((-700, 1988.5041545663), (-700, 1043.5651211104), (-600, 1043.5651211104), (-600, 1888.5041545663), align=None)
        with Locations((-650, 911.0041545663)):
            Rectangle(F0_W_6, F0_H_4)
        with Locations((-650, 1013.5346378384)):
            Rectangle(F0_W_6, F0_H_3)
        Polygon((-600, 2093.5651211104), (-700, 2193.5651211104), (-700, 1988.5041545663), (-600, 1888.5041545663), align=None)
    extrude(amount=F2_DEPTH)


with BuildPart() as f2e:
    # F0 (on Front) → F2, piece 5 (new body)
    with BuildSketch(Plane.XZ):
        with Locations((-945, -1181.7165205796)):
            Rectangle(F0_W_7, F0_H_5)
        with Locations((-945, -1283.9348788896)):
            Rectangle(F0_W_7, F0_H_4)
        with Locations((-945, -1401.4348788896)):
            Rectangle(F0_W_7, F0_H_2)
        with Locations((-945, -156.7470038516)):
            Rectangle(F0_W_7, F0_H)
        Polygon((-990, 2188.5041545663), (-990, 1043.5651211104), (-900, 1043.5651211104), (-900, 2188.5041545663), (-945, 2233.5041545663), align=None)
        with Locations((-945, 911.0041545663)):
            Rectangle(F0_W_7, F0_H_4)
        with Locations((-945, 1013.5346378384)):
            Rectangle(F0_W_7, F0_H_3)
        Polygon((-945, 2438.5651211104), (-990, 2393.5651211104), (-990, 2188.5041545663), (-945, 2233.5041545663), (-900, 2188.5041545663), (-900, 2393.5651211104), align=None)
    extrude(amount=F2_DEPTH)


with BuildPart() as f2f:
    # F0 (on Front) → F2, piece 6 (new body)
    with BuildSketch(Plane.XZ):
        with Locations((-1240, -1181.7165205796)):
            Rectangle(F0_W_6, F0_H_5)
        with Locations((-1240, -1283.9348788896)):
            Rectangle(F0_W_6, F0_H_4)
        with Locations((-1240, -1401.4348788896)):
            Rectangle(F0_W_6, F0_H_2)
    extrude(amount=F2_DEPTH)


with BuildPart() as f2g:
    # F0 (on Front) → F2, piece 7 (new body)
    with BuildSketch(Plane.XZ):
        with Locations((-1540, -1401.4348788896)):
            Rectangle(F0_W_6, F0_H_2)
        with Locations((-1540, -1283.9348788896)):
            Rectangle(F0_W_6, F0_H_4)
        with Locations((-1540, -1181.7165205796)):
            Rectangle(F0_W_6, F0_H_5)
    extrude(amount=F2_DEPTH)


with BuildPart() as f2h:
    # F0 (on Front) → F2, piece 8 (new body)
    with BuildSketch(Plane.XZ):
        with Locations((-1840, -1181.7165205796)):
            Rectangle(F0_W_6, F0_H_5)
        with Locations((-1840, -1283.9348788896)):
            Rectangle(F0_W_6, F0_H_4)
        with Locations((-1840, -1401.4348788896)):
            Rectangle(F0_W_6, F0_H_2)
    extrude(amount=F2_DEPTH)


with BuildPart() as f2i:
    # F0 (on Front) → F2, piece 9 (new body)
    with BuildSketch(Plane.XZ):
        with Locations((-2140, -1401.4348788896)):
            Rectangle(F0_W_6, F0_H_2)
        with Locations((-2140, -1283.9348788896)):
            Rectangle(F0_W_6, F0_H_4)
        Polygon((-2190, -1151.9981622696), (-2190, -1211.4348788896), (-2090, -1211.4348788896), (-2090, -1151.9981622696), (-2150, -1151.9981622696), align=None)
    extrude(amount=F2_DEPTH)


with BuildPart() as f2j:
    # F0 (on Front) → F2, piece 10 (new body)
    with BuildSketch(Plane.XZ):
        Polygon((-1290, 1888.5041545663), (-1290, 1043.5651211104), (-1190, 1043.5651211104), (-1190, 1988.5041545663), align=None)
        Polygon((-1190, 2193.5651211104), (-1290, 2093.5651211104), (-1290, 1888.5041545663), (-1190, 1988.5041545663), align=None)
        with Locations((-1240, 1013.5346378384)):
            Rectangle(F0_W_6, F0_H_3)
        with Locations((-1240, 911.0041545663)):
            Rectangle(F0_W_6, F0_H_4)
    extrude(amount=F2_DEPTH)


with BuildPart() as f2k:
    # F0 (on Front) → F2, piece 11 (new body)
    with BuildSketch(Plane.XZ):
        with Locations((-1540, 911.0041545663)):
            Rectangle(F0_W_6, F0_H_4)
        with Locations((-1540, 1013.5346378384)):
            Rectangle(F0_W_6, F0_H_3)
        Polygon((-1590, 1588.5041545663), (-1590, 1043.5651211104), (-1490, 1043.5651211104), (-1490, 1688.5041545663), align=None)
        Polygon((-1490, 1893.5651211104), (-1590, 1793.5651211104), (-1590, 1588.5041545663), (-1490, 1688.5041545663), align=None)
    extrude(amount=F2_DEPTH)


with BuildPart() as f2l:
    # F0 (on Front) → F2, piece 12 (new body)
    with BuildSketch(Plane.XZ):
        Polygon((-1790, 1593.5651211104), (-1890, 1493.5651211104), (-1890, 1288.5041545663), (-1790, 1388.5041545663), align=None)
        Polygon((-1890, 1288.5041545663), (-1890, 1043.5651211104), (-1790, 1043.5651211104), (-1790, 1388.5041545663), align=None)
        with Locations((-1840, 1013.5346378384)):
            Rectangle(F0_W_6, F0_H_3)
        with Locations((-1840, 911.0041545663)):
            Rectangle(F0_W_6, F0_H_4)
    extrude(amount=F2_DEPTH)


with BuildPart() as f2m:
    # F0 (on Front) → F2, piece 13 (new body)
    with BuildSketch(Plane.XZ):
        Polygon((-2090, 1043.5651211104), (-2134.9390334559, 1043.5651211104), (-2190, 988.5041545663), (-2190, 983.5041545663), (-2090, 983.5041545663), align=None)
        Polygon((-2190, 1193.5651211104), (-2190, 1043.5651211104), (-2134.9390334559, 1043.5651211104), (-2090, 1088.5041545663), (-2090, 1293.5651211104), align=None)
        Polygon((-2134.9390334559, 1043.5651211104), (-2190, 1043.5651211104), (-2190, 988.5041545663), align=None)
        Polygon((-2090, 1088.5041545663), (-2134.9390334559, 1043.5651211104), (-2090, 1043.5651211104), align=None)
        Polygon((-2090, 983.5041545663), (-2190, 983.5041545663), (-2190, 838.5041545663), (-2150, 838.5041545663), (-2090, 838.5041545663), align=None)
    extrude(amount=F2_DEPTH)


solid = Compound([f1.part, f1b.part, f1c.part, f1d.part, f1e.part, f1f.part, f1g.part, f1h.part, f1i.part, f1j.part, f1k.part, f1l.part, f1m.part, f2.part, f2b.part, f2c.part, f2d.part, f2e.part, f2f.part, f2g.part, f2h.part, f2i.part, f2j.part, f2k.part, f2l.part, f2m.part])
